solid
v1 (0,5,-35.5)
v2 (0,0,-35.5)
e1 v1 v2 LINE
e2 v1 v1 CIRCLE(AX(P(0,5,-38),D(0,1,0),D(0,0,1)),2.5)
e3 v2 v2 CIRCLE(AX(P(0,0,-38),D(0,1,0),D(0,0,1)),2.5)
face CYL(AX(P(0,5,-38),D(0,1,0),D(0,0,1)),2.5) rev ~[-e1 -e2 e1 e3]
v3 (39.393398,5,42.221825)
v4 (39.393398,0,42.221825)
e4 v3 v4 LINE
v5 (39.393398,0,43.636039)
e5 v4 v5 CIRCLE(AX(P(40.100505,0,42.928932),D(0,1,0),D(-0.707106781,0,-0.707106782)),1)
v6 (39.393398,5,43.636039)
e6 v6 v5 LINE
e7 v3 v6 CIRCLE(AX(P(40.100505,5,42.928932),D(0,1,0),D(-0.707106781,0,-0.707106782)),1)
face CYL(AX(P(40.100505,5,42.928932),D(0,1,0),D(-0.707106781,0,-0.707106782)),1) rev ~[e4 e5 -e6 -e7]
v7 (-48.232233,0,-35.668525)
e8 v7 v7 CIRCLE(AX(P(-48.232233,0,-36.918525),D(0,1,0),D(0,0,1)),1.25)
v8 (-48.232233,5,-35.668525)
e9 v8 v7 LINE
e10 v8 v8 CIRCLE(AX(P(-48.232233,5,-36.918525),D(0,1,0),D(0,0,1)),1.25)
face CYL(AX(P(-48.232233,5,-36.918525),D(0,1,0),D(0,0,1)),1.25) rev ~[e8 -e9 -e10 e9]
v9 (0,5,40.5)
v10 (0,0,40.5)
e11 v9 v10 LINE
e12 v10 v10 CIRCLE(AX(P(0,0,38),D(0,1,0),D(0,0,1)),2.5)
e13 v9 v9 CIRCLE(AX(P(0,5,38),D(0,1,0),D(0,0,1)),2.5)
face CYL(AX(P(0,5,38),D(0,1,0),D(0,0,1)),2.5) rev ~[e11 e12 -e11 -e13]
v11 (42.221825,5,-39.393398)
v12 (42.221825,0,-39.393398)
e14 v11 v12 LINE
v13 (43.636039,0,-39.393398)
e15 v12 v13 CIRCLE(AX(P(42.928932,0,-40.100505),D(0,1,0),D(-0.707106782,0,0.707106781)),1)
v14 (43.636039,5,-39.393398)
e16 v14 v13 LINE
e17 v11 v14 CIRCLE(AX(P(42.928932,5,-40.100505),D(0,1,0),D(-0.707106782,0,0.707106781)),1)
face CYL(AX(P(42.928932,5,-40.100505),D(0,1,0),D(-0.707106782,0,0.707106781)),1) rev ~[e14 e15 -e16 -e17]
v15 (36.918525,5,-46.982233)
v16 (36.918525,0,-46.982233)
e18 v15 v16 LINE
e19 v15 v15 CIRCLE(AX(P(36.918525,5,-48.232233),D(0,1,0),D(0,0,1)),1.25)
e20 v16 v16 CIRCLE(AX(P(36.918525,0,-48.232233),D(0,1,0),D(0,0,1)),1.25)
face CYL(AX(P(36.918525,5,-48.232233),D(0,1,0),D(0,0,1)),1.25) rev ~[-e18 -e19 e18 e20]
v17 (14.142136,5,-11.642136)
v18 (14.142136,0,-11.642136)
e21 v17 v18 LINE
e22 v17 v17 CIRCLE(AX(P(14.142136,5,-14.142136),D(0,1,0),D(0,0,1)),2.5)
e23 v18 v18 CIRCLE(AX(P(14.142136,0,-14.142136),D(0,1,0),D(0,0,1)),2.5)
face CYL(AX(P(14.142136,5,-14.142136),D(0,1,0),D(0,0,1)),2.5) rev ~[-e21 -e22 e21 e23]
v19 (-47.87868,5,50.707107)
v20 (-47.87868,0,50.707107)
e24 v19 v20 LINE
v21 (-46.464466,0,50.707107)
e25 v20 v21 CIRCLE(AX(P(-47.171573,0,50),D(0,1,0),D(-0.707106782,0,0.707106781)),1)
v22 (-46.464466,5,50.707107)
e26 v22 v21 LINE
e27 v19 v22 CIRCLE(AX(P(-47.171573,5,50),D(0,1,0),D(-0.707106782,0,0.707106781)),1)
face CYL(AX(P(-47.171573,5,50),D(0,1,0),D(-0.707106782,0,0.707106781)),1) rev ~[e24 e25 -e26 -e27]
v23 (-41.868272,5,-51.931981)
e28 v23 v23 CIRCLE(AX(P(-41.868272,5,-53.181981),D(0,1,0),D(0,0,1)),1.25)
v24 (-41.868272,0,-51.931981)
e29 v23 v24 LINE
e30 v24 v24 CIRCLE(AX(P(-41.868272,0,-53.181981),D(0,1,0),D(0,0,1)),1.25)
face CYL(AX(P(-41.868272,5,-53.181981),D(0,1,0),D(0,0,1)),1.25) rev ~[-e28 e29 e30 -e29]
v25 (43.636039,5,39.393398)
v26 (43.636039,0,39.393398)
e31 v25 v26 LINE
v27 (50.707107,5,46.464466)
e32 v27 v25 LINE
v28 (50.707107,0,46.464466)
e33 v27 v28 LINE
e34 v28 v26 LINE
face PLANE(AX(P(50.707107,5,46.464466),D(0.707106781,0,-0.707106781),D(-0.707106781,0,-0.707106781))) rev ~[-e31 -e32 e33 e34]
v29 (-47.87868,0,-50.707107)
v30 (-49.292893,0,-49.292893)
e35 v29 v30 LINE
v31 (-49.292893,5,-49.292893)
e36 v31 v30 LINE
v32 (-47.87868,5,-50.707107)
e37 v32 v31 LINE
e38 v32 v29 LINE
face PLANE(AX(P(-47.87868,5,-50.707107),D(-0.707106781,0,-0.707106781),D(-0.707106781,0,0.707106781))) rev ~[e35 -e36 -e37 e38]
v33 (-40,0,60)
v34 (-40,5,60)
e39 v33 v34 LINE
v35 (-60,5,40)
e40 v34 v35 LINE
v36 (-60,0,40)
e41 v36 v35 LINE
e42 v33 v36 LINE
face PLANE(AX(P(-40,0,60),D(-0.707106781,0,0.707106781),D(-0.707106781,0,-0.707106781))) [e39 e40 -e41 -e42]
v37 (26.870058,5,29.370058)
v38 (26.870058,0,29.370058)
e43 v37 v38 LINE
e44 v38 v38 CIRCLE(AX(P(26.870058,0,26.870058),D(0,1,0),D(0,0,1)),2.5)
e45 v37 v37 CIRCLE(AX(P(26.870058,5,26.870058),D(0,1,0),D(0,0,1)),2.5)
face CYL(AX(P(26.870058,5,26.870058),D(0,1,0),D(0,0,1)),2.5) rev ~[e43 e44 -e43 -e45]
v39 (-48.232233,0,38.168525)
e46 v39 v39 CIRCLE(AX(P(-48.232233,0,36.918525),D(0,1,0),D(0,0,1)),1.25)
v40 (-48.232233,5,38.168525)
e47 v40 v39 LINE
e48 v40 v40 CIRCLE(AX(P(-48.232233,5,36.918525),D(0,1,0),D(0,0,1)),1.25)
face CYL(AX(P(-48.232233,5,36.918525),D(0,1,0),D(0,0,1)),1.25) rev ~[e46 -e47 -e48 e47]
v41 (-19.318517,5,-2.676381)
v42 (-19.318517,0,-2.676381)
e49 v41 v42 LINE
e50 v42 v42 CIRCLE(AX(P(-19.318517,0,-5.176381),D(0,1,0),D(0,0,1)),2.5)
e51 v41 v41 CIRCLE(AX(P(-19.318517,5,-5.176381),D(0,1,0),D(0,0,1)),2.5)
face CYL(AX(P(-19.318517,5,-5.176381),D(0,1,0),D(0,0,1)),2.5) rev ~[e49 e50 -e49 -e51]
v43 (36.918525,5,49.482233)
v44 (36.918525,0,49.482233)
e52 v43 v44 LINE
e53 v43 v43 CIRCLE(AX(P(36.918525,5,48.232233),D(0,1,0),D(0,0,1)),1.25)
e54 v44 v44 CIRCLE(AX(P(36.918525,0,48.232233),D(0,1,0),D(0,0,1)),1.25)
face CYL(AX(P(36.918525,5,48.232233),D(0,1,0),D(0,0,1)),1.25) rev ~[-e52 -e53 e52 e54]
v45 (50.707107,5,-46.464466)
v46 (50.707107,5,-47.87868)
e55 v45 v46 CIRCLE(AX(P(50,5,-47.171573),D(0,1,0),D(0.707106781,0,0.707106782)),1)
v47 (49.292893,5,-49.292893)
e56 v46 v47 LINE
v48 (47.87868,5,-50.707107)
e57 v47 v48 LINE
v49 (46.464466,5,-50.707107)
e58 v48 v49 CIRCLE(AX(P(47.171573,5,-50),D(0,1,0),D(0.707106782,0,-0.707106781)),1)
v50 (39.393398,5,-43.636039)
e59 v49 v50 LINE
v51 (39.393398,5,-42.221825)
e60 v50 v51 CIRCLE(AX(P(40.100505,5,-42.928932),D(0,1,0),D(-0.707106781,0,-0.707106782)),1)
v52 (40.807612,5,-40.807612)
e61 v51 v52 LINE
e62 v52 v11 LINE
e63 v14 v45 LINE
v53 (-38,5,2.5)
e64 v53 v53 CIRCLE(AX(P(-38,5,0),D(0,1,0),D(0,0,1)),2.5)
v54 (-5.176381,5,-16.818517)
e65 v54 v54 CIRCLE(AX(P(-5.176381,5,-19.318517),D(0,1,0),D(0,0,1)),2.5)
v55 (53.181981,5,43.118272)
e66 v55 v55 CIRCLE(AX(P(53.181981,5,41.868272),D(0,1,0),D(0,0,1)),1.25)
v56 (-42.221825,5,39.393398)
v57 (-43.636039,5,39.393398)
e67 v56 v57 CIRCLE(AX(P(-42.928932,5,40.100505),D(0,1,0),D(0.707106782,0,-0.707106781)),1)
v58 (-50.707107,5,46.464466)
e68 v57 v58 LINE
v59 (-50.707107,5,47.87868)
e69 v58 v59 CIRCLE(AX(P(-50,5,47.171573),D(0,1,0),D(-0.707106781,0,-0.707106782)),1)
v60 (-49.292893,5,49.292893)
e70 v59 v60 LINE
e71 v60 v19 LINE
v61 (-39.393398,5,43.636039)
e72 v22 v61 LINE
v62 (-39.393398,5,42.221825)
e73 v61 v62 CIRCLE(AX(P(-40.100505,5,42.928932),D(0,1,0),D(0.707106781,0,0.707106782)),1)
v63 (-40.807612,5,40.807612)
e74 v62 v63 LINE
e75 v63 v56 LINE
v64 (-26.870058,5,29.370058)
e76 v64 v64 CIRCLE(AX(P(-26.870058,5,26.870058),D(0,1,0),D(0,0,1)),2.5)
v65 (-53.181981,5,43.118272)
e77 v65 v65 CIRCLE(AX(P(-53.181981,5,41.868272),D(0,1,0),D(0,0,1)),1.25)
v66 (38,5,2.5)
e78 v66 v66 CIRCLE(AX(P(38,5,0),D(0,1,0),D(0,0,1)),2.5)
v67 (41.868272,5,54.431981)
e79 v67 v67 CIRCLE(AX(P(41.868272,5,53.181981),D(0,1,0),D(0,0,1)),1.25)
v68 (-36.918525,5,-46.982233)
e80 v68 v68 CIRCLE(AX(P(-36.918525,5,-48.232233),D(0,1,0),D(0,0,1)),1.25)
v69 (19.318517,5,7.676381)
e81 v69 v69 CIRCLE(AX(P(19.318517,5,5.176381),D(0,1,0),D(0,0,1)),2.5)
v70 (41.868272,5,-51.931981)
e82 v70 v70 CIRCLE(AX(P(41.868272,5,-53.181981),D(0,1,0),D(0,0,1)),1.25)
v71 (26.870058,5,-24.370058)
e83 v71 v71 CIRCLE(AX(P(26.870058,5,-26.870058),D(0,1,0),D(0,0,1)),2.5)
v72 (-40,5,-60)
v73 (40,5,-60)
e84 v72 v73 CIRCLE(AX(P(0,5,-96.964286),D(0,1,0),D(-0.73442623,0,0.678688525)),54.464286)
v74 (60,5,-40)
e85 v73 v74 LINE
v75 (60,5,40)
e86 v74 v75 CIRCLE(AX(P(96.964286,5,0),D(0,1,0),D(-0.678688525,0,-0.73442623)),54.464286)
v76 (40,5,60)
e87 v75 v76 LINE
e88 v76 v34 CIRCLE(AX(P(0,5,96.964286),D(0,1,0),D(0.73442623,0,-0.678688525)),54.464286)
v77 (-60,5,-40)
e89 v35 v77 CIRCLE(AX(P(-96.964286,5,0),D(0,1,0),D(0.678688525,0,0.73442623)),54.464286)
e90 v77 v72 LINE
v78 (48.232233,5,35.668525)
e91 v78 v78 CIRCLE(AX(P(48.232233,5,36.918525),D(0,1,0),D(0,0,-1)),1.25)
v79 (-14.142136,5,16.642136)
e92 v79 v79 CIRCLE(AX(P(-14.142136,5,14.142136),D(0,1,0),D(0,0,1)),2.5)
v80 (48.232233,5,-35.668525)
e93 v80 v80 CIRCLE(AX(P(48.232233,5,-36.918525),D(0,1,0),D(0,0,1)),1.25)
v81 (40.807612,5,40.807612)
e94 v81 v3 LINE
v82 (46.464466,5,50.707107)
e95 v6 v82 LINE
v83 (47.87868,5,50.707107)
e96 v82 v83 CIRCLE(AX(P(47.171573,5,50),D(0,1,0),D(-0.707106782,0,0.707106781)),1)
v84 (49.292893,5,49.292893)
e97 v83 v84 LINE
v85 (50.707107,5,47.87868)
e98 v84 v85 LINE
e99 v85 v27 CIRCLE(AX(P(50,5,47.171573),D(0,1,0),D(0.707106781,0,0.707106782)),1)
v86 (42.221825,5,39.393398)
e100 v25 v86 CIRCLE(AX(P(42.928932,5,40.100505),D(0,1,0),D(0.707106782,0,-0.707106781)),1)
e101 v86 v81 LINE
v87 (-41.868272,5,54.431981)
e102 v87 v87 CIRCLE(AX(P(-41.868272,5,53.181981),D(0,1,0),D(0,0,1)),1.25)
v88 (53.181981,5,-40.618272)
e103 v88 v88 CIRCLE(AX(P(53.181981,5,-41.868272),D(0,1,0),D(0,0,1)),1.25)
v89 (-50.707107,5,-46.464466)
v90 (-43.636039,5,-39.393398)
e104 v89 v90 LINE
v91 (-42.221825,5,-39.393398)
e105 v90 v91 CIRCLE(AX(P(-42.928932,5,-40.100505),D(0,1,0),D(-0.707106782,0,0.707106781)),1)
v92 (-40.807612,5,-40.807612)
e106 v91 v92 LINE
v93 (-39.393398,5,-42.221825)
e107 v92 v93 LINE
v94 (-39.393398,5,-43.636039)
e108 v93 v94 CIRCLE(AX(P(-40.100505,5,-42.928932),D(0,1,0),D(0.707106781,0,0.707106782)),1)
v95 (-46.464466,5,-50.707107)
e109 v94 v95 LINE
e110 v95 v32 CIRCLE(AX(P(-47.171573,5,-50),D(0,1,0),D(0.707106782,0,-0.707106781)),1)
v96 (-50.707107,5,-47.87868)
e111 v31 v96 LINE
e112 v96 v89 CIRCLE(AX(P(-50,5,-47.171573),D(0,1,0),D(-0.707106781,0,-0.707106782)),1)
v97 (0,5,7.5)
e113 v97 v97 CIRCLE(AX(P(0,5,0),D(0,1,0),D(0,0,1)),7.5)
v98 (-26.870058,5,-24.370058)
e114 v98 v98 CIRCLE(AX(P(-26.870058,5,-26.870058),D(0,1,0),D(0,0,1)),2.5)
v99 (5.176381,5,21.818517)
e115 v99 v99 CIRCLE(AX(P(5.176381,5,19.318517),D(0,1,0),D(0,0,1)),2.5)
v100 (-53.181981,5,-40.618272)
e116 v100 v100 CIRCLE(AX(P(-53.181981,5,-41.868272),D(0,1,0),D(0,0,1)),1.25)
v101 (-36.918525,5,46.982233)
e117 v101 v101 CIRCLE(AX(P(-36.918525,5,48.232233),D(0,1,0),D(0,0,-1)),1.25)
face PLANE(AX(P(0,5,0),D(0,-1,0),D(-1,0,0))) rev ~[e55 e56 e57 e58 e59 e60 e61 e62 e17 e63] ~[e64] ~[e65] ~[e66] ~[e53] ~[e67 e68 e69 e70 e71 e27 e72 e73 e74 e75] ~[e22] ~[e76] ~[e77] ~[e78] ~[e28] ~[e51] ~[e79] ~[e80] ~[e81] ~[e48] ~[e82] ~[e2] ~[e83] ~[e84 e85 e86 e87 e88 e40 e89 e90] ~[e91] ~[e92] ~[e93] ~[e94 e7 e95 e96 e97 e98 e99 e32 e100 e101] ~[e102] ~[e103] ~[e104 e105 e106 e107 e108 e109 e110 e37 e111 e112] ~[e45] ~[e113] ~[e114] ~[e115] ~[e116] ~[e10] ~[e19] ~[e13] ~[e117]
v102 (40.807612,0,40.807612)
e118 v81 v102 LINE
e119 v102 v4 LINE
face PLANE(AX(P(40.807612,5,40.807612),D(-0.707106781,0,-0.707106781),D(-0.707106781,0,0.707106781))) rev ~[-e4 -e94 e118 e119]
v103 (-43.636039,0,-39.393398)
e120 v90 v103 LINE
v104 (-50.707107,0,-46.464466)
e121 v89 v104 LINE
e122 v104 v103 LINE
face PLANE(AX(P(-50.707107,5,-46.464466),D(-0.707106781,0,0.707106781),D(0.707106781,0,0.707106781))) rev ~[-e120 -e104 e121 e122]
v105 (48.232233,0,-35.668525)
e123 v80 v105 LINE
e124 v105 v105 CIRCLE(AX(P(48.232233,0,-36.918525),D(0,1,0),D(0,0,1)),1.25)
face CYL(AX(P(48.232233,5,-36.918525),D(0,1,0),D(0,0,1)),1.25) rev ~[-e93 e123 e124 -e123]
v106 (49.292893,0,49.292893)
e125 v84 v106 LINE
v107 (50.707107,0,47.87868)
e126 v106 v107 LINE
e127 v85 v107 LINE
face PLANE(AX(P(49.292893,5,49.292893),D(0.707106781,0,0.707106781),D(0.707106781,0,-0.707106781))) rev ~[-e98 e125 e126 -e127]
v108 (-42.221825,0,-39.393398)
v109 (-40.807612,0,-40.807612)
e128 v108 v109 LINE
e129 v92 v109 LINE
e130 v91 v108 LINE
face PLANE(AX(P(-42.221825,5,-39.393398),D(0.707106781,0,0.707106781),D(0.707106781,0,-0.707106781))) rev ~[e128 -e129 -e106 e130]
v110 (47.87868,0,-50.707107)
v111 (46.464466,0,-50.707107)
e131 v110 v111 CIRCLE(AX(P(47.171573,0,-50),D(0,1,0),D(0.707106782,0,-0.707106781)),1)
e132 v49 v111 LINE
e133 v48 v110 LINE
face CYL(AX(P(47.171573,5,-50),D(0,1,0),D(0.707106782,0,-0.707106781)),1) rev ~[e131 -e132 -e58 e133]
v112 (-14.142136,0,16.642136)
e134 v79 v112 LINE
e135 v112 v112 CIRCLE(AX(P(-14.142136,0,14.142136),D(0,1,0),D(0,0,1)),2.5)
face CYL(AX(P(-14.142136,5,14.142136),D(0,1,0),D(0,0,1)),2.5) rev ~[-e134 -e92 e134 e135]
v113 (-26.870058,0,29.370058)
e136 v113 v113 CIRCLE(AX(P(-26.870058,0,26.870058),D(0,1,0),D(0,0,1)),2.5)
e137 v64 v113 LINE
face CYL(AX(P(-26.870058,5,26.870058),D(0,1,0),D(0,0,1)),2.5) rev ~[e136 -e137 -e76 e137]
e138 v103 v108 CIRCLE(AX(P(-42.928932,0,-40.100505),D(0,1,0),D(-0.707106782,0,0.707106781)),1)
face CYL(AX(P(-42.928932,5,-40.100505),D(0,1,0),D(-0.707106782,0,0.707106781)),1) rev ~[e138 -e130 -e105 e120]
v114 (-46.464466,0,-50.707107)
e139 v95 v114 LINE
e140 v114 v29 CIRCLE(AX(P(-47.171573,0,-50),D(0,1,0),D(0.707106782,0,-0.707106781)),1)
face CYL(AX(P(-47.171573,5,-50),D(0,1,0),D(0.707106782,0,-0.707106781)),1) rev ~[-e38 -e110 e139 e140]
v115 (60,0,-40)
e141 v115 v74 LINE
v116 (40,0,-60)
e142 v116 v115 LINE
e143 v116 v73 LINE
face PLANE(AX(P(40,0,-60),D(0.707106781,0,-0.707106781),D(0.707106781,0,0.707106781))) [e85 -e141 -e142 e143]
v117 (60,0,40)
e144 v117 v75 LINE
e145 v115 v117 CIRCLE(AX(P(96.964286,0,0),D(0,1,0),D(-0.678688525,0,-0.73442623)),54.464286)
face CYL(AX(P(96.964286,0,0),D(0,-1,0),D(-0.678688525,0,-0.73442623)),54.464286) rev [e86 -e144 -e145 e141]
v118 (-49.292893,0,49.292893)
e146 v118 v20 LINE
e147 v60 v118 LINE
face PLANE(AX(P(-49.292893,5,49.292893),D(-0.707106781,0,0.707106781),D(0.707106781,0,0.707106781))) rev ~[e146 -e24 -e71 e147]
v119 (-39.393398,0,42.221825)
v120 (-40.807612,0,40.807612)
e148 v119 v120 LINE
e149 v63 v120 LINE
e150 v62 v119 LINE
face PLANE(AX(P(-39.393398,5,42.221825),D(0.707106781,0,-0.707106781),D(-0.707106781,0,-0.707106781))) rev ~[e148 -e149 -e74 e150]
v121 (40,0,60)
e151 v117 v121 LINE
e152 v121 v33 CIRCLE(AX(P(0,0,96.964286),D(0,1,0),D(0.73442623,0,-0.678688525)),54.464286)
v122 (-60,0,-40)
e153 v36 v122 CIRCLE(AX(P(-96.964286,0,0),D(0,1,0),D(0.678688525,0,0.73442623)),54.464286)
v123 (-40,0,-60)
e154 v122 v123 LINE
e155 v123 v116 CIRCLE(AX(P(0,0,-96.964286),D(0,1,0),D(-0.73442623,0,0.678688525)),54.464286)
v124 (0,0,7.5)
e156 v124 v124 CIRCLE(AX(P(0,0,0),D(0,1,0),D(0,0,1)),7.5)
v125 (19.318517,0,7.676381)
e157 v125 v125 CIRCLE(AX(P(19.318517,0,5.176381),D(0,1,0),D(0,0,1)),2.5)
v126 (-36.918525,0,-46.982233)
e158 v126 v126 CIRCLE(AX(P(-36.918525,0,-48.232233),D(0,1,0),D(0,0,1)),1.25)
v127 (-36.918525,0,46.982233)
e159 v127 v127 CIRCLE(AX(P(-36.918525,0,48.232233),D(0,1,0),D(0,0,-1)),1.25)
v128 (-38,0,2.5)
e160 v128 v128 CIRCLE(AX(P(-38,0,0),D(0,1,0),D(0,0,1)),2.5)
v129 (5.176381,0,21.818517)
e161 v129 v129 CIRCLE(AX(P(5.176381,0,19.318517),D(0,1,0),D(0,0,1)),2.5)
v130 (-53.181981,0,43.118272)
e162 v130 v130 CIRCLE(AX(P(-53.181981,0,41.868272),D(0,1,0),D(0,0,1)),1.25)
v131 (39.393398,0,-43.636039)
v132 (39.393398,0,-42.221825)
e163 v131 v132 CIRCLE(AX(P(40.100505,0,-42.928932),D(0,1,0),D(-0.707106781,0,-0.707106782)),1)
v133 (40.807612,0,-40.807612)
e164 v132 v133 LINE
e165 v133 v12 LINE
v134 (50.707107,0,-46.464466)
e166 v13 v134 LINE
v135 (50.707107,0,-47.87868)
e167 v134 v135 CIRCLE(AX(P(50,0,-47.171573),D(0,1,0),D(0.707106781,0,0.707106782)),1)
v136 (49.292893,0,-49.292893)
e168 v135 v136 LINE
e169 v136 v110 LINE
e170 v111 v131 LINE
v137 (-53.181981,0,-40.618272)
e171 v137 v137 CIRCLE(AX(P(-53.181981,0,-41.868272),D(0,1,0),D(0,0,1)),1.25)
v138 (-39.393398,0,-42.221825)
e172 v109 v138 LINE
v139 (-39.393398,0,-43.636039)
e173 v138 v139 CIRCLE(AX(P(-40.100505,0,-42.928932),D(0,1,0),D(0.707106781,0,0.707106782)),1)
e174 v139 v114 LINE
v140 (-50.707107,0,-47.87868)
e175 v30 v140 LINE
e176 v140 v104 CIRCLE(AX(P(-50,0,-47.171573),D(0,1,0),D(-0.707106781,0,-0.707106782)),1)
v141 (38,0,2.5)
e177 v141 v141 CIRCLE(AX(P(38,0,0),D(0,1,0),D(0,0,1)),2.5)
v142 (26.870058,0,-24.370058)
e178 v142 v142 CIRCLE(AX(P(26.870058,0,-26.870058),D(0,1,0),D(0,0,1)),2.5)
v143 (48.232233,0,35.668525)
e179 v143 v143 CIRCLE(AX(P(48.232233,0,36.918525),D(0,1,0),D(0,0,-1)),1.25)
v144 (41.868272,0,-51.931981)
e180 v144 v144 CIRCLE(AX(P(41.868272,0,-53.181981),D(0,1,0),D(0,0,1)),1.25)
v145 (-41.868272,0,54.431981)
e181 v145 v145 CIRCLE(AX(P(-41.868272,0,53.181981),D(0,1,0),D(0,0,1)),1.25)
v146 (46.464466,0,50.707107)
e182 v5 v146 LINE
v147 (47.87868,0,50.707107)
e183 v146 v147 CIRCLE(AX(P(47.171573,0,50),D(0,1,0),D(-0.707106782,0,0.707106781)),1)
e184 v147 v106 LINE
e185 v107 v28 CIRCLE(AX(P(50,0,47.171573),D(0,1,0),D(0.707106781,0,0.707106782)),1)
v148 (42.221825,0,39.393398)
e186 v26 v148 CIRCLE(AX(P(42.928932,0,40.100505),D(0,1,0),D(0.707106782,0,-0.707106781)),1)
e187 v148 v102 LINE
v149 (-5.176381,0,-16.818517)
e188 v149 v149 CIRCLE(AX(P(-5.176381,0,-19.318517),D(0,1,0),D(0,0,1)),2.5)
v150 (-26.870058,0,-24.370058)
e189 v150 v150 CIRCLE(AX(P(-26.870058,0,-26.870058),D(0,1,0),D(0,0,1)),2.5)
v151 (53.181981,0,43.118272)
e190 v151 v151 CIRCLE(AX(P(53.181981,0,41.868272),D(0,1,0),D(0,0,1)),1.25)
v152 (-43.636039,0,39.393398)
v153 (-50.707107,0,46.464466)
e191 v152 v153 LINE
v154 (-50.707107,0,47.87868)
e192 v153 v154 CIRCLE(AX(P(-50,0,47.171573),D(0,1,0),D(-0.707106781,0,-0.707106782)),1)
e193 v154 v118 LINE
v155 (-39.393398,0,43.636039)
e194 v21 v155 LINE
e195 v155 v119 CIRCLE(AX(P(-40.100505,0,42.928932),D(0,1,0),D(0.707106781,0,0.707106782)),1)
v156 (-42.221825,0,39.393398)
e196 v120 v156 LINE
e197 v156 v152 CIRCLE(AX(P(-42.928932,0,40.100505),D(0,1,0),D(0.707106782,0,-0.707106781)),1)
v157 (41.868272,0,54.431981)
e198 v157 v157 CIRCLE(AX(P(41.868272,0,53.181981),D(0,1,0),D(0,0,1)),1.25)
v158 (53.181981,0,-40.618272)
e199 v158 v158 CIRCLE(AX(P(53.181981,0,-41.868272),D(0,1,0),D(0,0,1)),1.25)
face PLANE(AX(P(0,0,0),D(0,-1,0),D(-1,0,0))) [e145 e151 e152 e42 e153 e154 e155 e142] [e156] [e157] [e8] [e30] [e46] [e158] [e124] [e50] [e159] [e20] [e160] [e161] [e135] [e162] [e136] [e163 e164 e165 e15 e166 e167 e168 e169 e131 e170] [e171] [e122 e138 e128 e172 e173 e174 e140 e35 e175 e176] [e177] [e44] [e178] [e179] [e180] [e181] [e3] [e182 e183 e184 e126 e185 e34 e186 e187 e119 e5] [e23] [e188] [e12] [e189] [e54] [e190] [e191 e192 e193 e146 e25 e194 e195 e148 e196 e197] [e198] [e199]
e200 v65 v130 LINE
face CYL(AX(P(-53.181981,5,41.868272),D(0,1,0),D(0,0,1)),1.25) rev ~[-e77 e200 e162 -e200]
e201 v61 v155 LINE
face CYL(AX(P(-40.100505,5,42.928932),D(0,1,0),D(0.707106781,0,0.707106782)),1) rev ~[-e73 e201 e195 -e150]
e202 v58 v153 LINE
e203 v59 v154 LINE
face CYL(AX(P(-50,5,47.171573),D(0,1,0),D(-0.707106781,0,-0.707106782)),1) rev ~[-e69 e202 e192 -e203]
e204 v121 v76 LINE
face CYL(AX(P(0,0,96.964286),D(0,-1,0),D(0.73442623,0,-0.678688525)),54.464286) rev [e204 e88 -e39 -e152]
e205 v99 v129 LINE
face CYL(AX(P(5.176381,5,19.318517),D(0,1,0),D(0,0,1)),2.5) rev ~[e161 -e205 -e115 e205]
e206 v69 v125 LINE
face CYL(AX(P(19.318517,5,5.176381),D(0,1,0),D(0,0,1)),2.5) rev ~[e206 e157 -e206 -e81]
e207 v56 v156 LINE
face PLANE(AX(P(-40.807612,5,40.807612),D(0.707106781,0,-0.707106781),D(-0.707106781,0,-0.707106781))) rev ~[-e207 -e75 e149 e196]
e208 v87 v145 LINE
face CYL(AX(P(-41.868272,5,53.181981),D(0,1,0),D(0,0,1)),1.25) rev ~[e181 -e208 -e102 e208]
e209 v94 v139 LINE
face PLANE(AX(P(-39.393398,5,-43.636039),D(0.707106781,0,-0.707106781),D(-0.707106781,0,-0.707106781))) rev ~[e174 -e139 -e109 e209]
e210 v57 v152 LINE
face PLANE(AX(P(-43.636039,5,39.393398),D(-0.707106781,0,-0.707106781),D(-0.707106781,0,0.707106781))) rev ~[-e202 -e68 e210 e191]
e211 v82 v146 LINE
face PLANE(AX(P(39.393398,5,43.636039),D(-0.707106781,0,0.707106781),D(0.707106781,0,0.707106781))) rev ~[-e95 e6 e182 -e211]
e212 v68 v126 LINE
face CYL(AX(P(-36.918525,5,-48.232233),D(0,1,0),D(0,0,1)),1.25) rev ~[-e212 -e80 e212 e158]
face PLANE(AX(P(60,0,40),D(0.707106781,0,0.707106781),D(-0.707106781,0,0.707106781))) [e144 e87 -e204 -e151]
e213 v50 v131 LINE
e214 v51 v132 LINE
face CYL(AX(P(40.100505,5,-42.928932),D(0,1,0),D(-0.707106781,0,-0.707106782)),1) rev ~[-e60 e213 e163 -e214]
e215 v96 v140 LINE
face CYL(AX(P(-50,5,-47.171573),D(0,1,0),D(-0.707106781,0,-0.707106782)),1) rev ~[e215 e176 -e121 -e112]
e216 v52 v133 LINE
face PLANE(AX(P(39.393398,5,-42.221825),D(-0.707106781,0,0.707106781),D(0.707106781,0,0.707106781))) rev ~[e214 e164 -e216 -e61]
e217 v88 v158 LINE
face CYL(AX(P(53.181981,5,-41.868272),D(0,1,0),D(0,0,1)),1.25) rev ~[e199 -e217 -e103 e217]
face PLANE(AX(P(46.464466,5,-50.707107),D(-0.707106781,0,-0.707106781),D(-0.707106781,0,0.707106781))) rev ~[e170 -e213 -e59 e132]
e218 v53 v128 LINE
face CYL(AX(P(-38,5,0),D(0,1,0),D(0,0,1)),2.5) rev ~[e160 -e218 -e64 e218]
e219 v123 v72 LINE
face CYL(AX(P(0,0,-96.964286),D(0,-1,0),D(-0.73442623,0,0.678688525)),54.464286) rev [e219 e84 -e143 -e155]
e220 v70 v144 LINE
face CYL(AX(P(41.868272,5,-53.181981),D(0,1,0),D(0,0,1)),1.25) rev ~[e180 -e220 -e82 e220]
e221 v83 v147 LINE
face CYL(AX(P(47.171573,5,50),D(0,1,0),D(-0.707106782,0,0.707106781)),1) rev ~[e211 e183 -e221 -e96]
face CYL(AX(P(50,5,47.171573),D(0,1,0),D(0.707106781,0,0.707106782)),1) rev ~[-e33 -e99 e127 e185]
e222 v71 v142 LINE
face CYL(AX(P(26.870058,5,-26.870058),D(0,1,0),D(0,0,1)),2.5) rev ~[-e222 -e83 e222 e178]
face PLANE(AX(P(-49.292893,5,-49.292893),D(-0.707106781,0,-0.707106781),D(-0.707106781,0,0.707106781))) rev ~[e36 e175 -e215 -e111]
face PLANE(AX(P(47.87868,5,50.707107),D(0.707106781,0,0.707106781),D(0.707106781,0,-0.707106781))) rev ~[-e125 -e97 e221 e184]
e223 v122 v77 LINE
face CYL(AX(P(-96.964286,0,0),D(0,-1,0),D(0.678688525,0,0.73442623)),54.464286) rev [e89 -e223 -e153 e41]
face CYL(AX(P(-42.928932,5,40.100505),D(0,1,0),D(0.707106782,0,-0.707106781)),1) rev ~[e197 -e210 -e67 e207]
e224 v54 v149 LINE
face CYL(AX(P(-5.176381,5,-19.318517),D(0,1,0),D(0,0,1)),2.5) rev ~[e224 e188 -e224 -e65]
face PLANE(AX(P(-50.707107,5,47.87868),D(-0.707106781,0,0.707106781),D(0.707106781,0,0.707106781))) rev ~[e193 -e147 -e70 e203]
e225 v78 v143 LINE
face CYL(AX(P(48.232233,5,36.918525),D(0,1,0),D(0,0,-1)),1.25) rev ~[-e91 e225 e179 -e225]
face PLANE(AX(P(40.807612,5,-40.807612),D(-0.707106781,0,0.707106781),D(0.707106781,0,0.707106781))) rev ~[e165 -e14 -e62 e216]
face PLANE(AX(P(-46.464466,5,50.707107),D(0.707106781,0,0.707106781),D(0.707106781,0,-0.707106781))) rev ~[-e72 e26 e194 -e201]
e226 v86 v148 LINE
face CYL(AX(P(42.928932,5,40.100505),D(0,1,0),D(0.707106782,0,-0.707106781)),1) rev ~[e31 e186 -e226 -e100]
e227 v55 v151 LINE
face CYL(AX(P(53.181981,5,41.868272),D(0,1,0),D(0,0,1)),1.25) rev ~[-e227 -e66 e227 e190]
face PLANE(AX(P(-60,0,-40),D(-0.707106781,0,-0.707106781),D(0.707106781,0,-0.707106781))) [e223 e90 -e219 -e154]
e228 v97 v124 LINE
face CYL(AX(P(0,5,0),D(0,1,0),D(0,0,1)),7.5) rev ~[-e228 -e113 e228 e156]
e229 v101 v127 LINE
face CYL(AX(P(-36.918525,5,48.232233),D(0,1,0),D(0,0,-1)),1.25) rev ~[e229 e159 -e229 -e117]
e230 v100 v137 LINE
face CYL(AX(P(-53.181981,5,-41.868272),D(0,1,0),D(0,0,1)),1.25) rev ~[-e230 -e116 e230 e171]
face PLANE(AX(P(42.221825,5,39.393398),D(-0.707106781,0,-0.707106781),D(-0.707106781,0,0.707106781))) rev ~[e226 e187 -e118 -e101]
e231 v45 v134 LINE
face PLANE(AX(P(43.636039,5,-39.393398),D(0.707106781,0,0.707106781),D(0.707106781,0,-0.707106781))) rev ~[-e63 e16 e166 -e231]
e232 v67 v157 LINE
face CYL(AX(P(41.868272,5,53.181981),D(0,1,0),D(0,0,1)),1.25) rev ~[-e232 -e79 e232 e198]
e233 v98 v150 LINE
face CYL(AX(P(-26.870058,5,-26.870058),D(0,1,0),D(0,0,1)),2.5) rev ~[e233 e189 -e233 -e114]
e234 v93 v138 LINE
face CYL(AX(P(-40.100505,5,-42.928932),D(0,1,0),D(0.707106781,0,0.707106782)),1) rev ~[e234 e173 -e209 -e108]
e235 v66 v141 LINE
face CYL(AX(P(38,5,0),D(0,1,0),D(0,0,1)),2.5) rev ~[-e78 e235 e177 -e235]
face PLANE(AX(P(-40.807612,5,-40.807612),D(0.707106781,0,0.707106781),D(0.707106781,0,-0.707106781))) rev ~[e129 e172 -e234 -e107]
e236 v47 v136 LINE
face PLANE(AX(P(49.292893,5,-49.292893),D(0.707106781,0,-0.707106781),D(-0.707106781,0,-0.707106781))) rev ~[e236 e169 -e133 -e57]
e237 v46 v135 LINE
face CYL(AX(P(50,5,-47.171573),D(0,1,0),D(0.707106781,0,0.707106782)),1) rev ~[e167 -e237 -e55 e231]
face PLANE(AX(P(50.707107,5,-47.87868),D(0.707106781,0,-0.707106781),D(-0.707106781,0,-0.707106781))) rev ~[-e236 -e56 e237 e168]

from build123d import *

# Parameters (mm, degrees)
BOSS_EXTRUDE1_DEPTH = 5
SKETCH7_R           = 1.25
CUT_EXTRUDE5_DEPTH  = 5
SKETCH9_R           = 7.5
SKETCH9_R_2         = 2.5
CUT_EXTRUDE11_DEPTH = 5


with BuildPart() as part:
    # Sketch3 → Boss-Extrude1 (new body)
    with BuildSketch(Plane(origin=(0, 0, 0), x_dir=(1, 0, 0), z_dir=(0, 1, 0))):
        with BuildLine():
            Line((-60, 40), (-40, 60))
            ThreePointArc((-40, 60), (0, 42.5), (40, 60))
            Line((40, 60), (60, 40))
            ThreePointArc((60, 40), (42.5, 0), (60, -40))
            Line((60, -40), (40, -60))
            ThreePointArc((40, -60), (0, -42.5), (-40, -60))
            Line((-40, -60), (-60, -40))
            ThreePointArc((-60, -40), (-42.5, 0), (-60, 40))
        make_face()
    extrude(amount=BOSS_EXTRUDE1_DEPTH)

    # Sketch7 → Cut-Extrude5 (cut)
    with BuildSketch(Plane(origin=(0, 5, 0), x_dir=(1, 0, 0), z_dir=(0, 1, 0))):
        with BuildLine():
            Line((-47.878679656, 50.707106781), (-49.292893219, 49.292893219))
            Line((-49.292893219, 49.292893219), (-40.807611845, 40.807611845))
            Line((-40.807611845, 40.807611845), (-39.393398282, 42.221825407))
            ThreePointArc((-39.393398282, 42.221825407), (-39.100505063, 42.928932188), (-39.393398282, 43.636038969))
            Line((-39.393398282, 43.636038969), (-46.464466094, 50.707106781))
            ThreePointArc((-46.464466094, 50.707106781), (-47.171572875, 51), (-47.878679656, 50.707106781))
        make_face()
        with BuildLine():
            Line((-40.807611845, 40.807611845), (-49.292893219, 49.292893219))
            Line((-49.292893219, 49.292893219), (-50.707106781, 47.878679656))
            ThreePointArc((-50.707106781, 47.878679656), (-51, 47.171572875), (-50.707106781, 46.464466094))
            Line((-50.707106781, 46.464466094), (-43.636038969, 39.393398282))
            ThreePointArc((-43.636038969, 39.393398282), (-42.928932188, 39.100505063), (-42.221825407, 39.393398282))
            Line((-42.221825407, 39.393398282), (-40.807611845, 40.807611845))
        make_face()
        with Locations(Location((-53.181980515, 41.868272016, 0), (0, 0, 270))):
            Circle(SKETCH7_R)
        with Locations(Location((-48.232233047, 36.918524548, 0), (0, 0, 270))):
            Circle(SKETCH7_R)
        with Locations(Location((-41.868272016, 53.181980515, 0), (0, 0, 270))):
            Circle(SKETCH7_R)
        with Locations(Location((-36.918524548, 48.232233047, 0), (0, 0, 270))):
            Circle(SKETCH7_R)
        with BuildLine():
            Line((-39.393398282, -42.221825407), (-40.807611845, -40.807611845))
            Line((-40.807611845, -40.807611845), (-49.292893219, -49.292893219))
            Line((-49.292893219, -49.292893219), (-47.878679656, -50.707106781))
            ThreePointArc((-47.878679656, -50.707106781), (-47.171572875, -51), (-46.464466094, -50.707106781))
            Line((-46.464466094, -50.707106781), (-39.393398282, -43.636038969))
            ThreePointArc((-39.393398282, -43.636038969), (-39.100505063, -42.928932188), (-39.393398282, -42.221825407))
        make_face()
        with BuildLine():
            Line((-49.292893219, -49.292893219), (-40.807611845, -40.807611845))
            Line((-40.807611845, -40.807611845), (-42.221825407, -39.393398282))
            ThreePointArc((-42.221825407, -39.393398282), (-42.928932188, -39.100505063), (-43.636038969, -39.393398282))
            Line((-43.636038969, -39.393398282), (-50.707106781, -46.464466094))
            ThreePointArc((-50.707106781, -46.464466094), (-51, -47.171572875), (-50.707106781, -47.878679656))
            Line((-50.707106781, -47.878679656), (-49.292893219, -49.292893219))
        make_face()
        with Locations(Location((-53.181980515, -41.868272016, 0), (0, 0, 270))):
            Circle(SKETCH7_R)
        with Locations(Location((-48.232233047, -36.918524548, 0), (0, 0, 270))):
            Circle(SKETCH7_R)
        with Locations(Location((-41.868272016, -53.181980515, 0), (0, 0, 270))):
            Circle(SKETCH7_R)
        with BuildLine():
            Line((49.292893219, -49.292893219), (40.807611845, -40.807611845))
            Line((40.807611845, -40.807611845), (39.393398282, -42.221825407))
            ThreePointArc((39.393398282, -42.221825407), (39.100505063, -42.928932188), (39.393398282, -43.636038969))
            Line((39.393398282, -43.636038969), (46.464466094, -50.707106781))
            ThreePointArc((46.464466094, -50.707106781), (47.171572875, -51), (47.878679656, -50.707106781))
            Line((47.878679656, -50.707106781), (49.292893219, -49.292893219))
        make_face()
        with BuildLine():
            Line((42.221825407, -39.393398282), (40.807611845, -40.807611845))
            Line((40.807611845, -40.807611845), (49.292893219, -49.292893219))
            Line((49.292893219, -49.292893219), (50.707106781, -47.878679656))
            ThreePointArc((50.707106781, -47.878679656), (51, -47.171572875), (50.707106781, -46.464466094))
            Line((50.707106781, -46.464466094), (43.636038969, -39.393398282))
            ThreePointArc((43.636038969, -39.393398282), (42.928932188, -39.100505063), (42.221825407, -39.393398282))
        make_face()
        with Locations(Location((53.181980515, -41.868272016, 0), (0, 0, 270))):
            Circle(SKETCH7_R)
        with BuildLine():
            Line((39.393398282, 42.221825407), (40.807611845, 40.807611845))
            Line((40.807611845, 40.807611845), (49.292893219, 49.292893219))
            Line((49.292893219, 49.292893219), (47.878679656, 50.707106781))
            ThreePointArc((47.878679656, 50.707106781), (47.171572875, 51), (46.464466094, 50.707106781))
            Line((46.464466094, 50.707106781), (39.393398282, 43.636038969))
            ThreePointArc((39.393398282, 43.636038969), (39.100505063, 42.928932188), (39.393398282, 42.221825407))
        make_face()
        with BuildLine():
            Line((49.292893219, 49.292893219), (40.807611845, 40.807611845))
            Line((40.807611845, 40.807611845), (42.221825407, 39.393398282))
            ThreePointArc((42.221825407, 39.393398282), (42.928932188, 39.100505063), (43.636038969, 39.393398282))
            Line((43.636038969, 39.393398282), (50.707106781, 46.464466094))
            ThreePointArc((50.707106781, 46.464466094), (51, 47.171572875), (50.707106781, 47.878679656))
            Line((50.707106781, 47.878679656), (49.292893219, 49.292893219))
        make_face()
        with Locations(Location((41.868272016, 53.181980515, 0), (0, 0, 270))):
            Circle(SKETCH7_R)
        with Locations(Location((36.918524548, 48.232233047, 0), (0, 0, 270))):
            Circle(SKETCH7_R)
        with Locations(Location((53.181980515, 41.868272016, 0), (0, 0, 270))):
            Circle(SKETCH7_R)
        with Locations(Location((48.232233047, 36.918524548, 0), (0, 0, 270))):
            Circle(SKETCH7_R)
        with Locations(Location((-36.918524548, -48.232233047, 0), (0, 0, 90))):
            Circle(SKETCH7_R)
        with Locations(Location((48.232233047, -36.918524548, 0), (0, 0, 90))):
            Circle(SKETCH7_R)
        with Locations(Location((41.868272016, -53.181980515, 0), (0, 0, 270))):
            Circle(SKETCH7_R)
        with Locations(Location((36.918524548, -48.232233047, 0), (0, 0, 270))):
            Circle(SKETCH7_R)
    extrude(amount=-CUT_EXTRUDE5_DEPTH, mode=Mode.SUBTRACT)

    # Sketch9 → Cut-Extrude11 (cut)
    with BuildSketch(Plane(origin=(0, 5, 0), x_dir=(1, 0, 0), z_dir=(0, 1, 0))):
        with Locations(Location((0, 0, 0), (0, 0, 270))):
            Circle(SKETCH9_R)
        with Locations(Location((26.870057685, 26.870057685, 0), (0, 0, 270))):
            Circle(SKETCH9_R_2)
        with Locations(Location((38, 0, 0), (0, 0, 270))):
            Circle(SKETCH9_R_2)
        with Locations(Location((26.870057685, -26.870057685, 0), (0, 0, 270))):
            Circle(SKETCH9_R_2)
        with Locations(Location((0, -38, 0), (0, 0, 270))):
            Circle(SKETCH9_R_2)
        with Locations(Location((-26.870057685, -26.870057685, 0), (0, 0, 270))):
            Circle(SKETCH9_R_2)
        with Locations(Location((-38, 0, 0), (0, 0, 270))):
            Circle(SKETCH9_R_2)
        with Locations(Location((-26.870057685, 26.870057685, 0), (0, 0, 270))):
            Circle(SKETCH9_R_2)
        with Locations(Location((0, 38, 0), (0, 0, 270))):
            Circle(SKETCH9_R_2)
        with Locations(Location((14.142135624, 14.142135624, 0), (0, 0, 270))):
            Circle(SKETCH9_R_2)
        with Locations(Location((19.318516526, -5.176380902, 0), (0, 0, 270))):
            Circle(SKETCH9_R_2)
        with Locations(Location((5.176380902, -19.318516526, 0), (0, 0, 270))):
            Circle(SKETCH9_R_2)
        with Locations(Location((-14.142135624, -14.142135624, 0), (0, 0, 270))):
            Circle(SKETCH9_R_2)
        with Locations(Location((-19.318516526, 5.176380902, 0), (0, 0, 270))):
            Circle(SKETCH9_R_2)
        with Locations(Location((-5.176380902, 19.318516526, 0), (0, 0, 270))):
            Circle(SKETCH9_R_2)
    extrude(amount=-CUT_EXTRUDE11_DEPTH, mode=Mode.SUBTRACT)


solid = part.part
